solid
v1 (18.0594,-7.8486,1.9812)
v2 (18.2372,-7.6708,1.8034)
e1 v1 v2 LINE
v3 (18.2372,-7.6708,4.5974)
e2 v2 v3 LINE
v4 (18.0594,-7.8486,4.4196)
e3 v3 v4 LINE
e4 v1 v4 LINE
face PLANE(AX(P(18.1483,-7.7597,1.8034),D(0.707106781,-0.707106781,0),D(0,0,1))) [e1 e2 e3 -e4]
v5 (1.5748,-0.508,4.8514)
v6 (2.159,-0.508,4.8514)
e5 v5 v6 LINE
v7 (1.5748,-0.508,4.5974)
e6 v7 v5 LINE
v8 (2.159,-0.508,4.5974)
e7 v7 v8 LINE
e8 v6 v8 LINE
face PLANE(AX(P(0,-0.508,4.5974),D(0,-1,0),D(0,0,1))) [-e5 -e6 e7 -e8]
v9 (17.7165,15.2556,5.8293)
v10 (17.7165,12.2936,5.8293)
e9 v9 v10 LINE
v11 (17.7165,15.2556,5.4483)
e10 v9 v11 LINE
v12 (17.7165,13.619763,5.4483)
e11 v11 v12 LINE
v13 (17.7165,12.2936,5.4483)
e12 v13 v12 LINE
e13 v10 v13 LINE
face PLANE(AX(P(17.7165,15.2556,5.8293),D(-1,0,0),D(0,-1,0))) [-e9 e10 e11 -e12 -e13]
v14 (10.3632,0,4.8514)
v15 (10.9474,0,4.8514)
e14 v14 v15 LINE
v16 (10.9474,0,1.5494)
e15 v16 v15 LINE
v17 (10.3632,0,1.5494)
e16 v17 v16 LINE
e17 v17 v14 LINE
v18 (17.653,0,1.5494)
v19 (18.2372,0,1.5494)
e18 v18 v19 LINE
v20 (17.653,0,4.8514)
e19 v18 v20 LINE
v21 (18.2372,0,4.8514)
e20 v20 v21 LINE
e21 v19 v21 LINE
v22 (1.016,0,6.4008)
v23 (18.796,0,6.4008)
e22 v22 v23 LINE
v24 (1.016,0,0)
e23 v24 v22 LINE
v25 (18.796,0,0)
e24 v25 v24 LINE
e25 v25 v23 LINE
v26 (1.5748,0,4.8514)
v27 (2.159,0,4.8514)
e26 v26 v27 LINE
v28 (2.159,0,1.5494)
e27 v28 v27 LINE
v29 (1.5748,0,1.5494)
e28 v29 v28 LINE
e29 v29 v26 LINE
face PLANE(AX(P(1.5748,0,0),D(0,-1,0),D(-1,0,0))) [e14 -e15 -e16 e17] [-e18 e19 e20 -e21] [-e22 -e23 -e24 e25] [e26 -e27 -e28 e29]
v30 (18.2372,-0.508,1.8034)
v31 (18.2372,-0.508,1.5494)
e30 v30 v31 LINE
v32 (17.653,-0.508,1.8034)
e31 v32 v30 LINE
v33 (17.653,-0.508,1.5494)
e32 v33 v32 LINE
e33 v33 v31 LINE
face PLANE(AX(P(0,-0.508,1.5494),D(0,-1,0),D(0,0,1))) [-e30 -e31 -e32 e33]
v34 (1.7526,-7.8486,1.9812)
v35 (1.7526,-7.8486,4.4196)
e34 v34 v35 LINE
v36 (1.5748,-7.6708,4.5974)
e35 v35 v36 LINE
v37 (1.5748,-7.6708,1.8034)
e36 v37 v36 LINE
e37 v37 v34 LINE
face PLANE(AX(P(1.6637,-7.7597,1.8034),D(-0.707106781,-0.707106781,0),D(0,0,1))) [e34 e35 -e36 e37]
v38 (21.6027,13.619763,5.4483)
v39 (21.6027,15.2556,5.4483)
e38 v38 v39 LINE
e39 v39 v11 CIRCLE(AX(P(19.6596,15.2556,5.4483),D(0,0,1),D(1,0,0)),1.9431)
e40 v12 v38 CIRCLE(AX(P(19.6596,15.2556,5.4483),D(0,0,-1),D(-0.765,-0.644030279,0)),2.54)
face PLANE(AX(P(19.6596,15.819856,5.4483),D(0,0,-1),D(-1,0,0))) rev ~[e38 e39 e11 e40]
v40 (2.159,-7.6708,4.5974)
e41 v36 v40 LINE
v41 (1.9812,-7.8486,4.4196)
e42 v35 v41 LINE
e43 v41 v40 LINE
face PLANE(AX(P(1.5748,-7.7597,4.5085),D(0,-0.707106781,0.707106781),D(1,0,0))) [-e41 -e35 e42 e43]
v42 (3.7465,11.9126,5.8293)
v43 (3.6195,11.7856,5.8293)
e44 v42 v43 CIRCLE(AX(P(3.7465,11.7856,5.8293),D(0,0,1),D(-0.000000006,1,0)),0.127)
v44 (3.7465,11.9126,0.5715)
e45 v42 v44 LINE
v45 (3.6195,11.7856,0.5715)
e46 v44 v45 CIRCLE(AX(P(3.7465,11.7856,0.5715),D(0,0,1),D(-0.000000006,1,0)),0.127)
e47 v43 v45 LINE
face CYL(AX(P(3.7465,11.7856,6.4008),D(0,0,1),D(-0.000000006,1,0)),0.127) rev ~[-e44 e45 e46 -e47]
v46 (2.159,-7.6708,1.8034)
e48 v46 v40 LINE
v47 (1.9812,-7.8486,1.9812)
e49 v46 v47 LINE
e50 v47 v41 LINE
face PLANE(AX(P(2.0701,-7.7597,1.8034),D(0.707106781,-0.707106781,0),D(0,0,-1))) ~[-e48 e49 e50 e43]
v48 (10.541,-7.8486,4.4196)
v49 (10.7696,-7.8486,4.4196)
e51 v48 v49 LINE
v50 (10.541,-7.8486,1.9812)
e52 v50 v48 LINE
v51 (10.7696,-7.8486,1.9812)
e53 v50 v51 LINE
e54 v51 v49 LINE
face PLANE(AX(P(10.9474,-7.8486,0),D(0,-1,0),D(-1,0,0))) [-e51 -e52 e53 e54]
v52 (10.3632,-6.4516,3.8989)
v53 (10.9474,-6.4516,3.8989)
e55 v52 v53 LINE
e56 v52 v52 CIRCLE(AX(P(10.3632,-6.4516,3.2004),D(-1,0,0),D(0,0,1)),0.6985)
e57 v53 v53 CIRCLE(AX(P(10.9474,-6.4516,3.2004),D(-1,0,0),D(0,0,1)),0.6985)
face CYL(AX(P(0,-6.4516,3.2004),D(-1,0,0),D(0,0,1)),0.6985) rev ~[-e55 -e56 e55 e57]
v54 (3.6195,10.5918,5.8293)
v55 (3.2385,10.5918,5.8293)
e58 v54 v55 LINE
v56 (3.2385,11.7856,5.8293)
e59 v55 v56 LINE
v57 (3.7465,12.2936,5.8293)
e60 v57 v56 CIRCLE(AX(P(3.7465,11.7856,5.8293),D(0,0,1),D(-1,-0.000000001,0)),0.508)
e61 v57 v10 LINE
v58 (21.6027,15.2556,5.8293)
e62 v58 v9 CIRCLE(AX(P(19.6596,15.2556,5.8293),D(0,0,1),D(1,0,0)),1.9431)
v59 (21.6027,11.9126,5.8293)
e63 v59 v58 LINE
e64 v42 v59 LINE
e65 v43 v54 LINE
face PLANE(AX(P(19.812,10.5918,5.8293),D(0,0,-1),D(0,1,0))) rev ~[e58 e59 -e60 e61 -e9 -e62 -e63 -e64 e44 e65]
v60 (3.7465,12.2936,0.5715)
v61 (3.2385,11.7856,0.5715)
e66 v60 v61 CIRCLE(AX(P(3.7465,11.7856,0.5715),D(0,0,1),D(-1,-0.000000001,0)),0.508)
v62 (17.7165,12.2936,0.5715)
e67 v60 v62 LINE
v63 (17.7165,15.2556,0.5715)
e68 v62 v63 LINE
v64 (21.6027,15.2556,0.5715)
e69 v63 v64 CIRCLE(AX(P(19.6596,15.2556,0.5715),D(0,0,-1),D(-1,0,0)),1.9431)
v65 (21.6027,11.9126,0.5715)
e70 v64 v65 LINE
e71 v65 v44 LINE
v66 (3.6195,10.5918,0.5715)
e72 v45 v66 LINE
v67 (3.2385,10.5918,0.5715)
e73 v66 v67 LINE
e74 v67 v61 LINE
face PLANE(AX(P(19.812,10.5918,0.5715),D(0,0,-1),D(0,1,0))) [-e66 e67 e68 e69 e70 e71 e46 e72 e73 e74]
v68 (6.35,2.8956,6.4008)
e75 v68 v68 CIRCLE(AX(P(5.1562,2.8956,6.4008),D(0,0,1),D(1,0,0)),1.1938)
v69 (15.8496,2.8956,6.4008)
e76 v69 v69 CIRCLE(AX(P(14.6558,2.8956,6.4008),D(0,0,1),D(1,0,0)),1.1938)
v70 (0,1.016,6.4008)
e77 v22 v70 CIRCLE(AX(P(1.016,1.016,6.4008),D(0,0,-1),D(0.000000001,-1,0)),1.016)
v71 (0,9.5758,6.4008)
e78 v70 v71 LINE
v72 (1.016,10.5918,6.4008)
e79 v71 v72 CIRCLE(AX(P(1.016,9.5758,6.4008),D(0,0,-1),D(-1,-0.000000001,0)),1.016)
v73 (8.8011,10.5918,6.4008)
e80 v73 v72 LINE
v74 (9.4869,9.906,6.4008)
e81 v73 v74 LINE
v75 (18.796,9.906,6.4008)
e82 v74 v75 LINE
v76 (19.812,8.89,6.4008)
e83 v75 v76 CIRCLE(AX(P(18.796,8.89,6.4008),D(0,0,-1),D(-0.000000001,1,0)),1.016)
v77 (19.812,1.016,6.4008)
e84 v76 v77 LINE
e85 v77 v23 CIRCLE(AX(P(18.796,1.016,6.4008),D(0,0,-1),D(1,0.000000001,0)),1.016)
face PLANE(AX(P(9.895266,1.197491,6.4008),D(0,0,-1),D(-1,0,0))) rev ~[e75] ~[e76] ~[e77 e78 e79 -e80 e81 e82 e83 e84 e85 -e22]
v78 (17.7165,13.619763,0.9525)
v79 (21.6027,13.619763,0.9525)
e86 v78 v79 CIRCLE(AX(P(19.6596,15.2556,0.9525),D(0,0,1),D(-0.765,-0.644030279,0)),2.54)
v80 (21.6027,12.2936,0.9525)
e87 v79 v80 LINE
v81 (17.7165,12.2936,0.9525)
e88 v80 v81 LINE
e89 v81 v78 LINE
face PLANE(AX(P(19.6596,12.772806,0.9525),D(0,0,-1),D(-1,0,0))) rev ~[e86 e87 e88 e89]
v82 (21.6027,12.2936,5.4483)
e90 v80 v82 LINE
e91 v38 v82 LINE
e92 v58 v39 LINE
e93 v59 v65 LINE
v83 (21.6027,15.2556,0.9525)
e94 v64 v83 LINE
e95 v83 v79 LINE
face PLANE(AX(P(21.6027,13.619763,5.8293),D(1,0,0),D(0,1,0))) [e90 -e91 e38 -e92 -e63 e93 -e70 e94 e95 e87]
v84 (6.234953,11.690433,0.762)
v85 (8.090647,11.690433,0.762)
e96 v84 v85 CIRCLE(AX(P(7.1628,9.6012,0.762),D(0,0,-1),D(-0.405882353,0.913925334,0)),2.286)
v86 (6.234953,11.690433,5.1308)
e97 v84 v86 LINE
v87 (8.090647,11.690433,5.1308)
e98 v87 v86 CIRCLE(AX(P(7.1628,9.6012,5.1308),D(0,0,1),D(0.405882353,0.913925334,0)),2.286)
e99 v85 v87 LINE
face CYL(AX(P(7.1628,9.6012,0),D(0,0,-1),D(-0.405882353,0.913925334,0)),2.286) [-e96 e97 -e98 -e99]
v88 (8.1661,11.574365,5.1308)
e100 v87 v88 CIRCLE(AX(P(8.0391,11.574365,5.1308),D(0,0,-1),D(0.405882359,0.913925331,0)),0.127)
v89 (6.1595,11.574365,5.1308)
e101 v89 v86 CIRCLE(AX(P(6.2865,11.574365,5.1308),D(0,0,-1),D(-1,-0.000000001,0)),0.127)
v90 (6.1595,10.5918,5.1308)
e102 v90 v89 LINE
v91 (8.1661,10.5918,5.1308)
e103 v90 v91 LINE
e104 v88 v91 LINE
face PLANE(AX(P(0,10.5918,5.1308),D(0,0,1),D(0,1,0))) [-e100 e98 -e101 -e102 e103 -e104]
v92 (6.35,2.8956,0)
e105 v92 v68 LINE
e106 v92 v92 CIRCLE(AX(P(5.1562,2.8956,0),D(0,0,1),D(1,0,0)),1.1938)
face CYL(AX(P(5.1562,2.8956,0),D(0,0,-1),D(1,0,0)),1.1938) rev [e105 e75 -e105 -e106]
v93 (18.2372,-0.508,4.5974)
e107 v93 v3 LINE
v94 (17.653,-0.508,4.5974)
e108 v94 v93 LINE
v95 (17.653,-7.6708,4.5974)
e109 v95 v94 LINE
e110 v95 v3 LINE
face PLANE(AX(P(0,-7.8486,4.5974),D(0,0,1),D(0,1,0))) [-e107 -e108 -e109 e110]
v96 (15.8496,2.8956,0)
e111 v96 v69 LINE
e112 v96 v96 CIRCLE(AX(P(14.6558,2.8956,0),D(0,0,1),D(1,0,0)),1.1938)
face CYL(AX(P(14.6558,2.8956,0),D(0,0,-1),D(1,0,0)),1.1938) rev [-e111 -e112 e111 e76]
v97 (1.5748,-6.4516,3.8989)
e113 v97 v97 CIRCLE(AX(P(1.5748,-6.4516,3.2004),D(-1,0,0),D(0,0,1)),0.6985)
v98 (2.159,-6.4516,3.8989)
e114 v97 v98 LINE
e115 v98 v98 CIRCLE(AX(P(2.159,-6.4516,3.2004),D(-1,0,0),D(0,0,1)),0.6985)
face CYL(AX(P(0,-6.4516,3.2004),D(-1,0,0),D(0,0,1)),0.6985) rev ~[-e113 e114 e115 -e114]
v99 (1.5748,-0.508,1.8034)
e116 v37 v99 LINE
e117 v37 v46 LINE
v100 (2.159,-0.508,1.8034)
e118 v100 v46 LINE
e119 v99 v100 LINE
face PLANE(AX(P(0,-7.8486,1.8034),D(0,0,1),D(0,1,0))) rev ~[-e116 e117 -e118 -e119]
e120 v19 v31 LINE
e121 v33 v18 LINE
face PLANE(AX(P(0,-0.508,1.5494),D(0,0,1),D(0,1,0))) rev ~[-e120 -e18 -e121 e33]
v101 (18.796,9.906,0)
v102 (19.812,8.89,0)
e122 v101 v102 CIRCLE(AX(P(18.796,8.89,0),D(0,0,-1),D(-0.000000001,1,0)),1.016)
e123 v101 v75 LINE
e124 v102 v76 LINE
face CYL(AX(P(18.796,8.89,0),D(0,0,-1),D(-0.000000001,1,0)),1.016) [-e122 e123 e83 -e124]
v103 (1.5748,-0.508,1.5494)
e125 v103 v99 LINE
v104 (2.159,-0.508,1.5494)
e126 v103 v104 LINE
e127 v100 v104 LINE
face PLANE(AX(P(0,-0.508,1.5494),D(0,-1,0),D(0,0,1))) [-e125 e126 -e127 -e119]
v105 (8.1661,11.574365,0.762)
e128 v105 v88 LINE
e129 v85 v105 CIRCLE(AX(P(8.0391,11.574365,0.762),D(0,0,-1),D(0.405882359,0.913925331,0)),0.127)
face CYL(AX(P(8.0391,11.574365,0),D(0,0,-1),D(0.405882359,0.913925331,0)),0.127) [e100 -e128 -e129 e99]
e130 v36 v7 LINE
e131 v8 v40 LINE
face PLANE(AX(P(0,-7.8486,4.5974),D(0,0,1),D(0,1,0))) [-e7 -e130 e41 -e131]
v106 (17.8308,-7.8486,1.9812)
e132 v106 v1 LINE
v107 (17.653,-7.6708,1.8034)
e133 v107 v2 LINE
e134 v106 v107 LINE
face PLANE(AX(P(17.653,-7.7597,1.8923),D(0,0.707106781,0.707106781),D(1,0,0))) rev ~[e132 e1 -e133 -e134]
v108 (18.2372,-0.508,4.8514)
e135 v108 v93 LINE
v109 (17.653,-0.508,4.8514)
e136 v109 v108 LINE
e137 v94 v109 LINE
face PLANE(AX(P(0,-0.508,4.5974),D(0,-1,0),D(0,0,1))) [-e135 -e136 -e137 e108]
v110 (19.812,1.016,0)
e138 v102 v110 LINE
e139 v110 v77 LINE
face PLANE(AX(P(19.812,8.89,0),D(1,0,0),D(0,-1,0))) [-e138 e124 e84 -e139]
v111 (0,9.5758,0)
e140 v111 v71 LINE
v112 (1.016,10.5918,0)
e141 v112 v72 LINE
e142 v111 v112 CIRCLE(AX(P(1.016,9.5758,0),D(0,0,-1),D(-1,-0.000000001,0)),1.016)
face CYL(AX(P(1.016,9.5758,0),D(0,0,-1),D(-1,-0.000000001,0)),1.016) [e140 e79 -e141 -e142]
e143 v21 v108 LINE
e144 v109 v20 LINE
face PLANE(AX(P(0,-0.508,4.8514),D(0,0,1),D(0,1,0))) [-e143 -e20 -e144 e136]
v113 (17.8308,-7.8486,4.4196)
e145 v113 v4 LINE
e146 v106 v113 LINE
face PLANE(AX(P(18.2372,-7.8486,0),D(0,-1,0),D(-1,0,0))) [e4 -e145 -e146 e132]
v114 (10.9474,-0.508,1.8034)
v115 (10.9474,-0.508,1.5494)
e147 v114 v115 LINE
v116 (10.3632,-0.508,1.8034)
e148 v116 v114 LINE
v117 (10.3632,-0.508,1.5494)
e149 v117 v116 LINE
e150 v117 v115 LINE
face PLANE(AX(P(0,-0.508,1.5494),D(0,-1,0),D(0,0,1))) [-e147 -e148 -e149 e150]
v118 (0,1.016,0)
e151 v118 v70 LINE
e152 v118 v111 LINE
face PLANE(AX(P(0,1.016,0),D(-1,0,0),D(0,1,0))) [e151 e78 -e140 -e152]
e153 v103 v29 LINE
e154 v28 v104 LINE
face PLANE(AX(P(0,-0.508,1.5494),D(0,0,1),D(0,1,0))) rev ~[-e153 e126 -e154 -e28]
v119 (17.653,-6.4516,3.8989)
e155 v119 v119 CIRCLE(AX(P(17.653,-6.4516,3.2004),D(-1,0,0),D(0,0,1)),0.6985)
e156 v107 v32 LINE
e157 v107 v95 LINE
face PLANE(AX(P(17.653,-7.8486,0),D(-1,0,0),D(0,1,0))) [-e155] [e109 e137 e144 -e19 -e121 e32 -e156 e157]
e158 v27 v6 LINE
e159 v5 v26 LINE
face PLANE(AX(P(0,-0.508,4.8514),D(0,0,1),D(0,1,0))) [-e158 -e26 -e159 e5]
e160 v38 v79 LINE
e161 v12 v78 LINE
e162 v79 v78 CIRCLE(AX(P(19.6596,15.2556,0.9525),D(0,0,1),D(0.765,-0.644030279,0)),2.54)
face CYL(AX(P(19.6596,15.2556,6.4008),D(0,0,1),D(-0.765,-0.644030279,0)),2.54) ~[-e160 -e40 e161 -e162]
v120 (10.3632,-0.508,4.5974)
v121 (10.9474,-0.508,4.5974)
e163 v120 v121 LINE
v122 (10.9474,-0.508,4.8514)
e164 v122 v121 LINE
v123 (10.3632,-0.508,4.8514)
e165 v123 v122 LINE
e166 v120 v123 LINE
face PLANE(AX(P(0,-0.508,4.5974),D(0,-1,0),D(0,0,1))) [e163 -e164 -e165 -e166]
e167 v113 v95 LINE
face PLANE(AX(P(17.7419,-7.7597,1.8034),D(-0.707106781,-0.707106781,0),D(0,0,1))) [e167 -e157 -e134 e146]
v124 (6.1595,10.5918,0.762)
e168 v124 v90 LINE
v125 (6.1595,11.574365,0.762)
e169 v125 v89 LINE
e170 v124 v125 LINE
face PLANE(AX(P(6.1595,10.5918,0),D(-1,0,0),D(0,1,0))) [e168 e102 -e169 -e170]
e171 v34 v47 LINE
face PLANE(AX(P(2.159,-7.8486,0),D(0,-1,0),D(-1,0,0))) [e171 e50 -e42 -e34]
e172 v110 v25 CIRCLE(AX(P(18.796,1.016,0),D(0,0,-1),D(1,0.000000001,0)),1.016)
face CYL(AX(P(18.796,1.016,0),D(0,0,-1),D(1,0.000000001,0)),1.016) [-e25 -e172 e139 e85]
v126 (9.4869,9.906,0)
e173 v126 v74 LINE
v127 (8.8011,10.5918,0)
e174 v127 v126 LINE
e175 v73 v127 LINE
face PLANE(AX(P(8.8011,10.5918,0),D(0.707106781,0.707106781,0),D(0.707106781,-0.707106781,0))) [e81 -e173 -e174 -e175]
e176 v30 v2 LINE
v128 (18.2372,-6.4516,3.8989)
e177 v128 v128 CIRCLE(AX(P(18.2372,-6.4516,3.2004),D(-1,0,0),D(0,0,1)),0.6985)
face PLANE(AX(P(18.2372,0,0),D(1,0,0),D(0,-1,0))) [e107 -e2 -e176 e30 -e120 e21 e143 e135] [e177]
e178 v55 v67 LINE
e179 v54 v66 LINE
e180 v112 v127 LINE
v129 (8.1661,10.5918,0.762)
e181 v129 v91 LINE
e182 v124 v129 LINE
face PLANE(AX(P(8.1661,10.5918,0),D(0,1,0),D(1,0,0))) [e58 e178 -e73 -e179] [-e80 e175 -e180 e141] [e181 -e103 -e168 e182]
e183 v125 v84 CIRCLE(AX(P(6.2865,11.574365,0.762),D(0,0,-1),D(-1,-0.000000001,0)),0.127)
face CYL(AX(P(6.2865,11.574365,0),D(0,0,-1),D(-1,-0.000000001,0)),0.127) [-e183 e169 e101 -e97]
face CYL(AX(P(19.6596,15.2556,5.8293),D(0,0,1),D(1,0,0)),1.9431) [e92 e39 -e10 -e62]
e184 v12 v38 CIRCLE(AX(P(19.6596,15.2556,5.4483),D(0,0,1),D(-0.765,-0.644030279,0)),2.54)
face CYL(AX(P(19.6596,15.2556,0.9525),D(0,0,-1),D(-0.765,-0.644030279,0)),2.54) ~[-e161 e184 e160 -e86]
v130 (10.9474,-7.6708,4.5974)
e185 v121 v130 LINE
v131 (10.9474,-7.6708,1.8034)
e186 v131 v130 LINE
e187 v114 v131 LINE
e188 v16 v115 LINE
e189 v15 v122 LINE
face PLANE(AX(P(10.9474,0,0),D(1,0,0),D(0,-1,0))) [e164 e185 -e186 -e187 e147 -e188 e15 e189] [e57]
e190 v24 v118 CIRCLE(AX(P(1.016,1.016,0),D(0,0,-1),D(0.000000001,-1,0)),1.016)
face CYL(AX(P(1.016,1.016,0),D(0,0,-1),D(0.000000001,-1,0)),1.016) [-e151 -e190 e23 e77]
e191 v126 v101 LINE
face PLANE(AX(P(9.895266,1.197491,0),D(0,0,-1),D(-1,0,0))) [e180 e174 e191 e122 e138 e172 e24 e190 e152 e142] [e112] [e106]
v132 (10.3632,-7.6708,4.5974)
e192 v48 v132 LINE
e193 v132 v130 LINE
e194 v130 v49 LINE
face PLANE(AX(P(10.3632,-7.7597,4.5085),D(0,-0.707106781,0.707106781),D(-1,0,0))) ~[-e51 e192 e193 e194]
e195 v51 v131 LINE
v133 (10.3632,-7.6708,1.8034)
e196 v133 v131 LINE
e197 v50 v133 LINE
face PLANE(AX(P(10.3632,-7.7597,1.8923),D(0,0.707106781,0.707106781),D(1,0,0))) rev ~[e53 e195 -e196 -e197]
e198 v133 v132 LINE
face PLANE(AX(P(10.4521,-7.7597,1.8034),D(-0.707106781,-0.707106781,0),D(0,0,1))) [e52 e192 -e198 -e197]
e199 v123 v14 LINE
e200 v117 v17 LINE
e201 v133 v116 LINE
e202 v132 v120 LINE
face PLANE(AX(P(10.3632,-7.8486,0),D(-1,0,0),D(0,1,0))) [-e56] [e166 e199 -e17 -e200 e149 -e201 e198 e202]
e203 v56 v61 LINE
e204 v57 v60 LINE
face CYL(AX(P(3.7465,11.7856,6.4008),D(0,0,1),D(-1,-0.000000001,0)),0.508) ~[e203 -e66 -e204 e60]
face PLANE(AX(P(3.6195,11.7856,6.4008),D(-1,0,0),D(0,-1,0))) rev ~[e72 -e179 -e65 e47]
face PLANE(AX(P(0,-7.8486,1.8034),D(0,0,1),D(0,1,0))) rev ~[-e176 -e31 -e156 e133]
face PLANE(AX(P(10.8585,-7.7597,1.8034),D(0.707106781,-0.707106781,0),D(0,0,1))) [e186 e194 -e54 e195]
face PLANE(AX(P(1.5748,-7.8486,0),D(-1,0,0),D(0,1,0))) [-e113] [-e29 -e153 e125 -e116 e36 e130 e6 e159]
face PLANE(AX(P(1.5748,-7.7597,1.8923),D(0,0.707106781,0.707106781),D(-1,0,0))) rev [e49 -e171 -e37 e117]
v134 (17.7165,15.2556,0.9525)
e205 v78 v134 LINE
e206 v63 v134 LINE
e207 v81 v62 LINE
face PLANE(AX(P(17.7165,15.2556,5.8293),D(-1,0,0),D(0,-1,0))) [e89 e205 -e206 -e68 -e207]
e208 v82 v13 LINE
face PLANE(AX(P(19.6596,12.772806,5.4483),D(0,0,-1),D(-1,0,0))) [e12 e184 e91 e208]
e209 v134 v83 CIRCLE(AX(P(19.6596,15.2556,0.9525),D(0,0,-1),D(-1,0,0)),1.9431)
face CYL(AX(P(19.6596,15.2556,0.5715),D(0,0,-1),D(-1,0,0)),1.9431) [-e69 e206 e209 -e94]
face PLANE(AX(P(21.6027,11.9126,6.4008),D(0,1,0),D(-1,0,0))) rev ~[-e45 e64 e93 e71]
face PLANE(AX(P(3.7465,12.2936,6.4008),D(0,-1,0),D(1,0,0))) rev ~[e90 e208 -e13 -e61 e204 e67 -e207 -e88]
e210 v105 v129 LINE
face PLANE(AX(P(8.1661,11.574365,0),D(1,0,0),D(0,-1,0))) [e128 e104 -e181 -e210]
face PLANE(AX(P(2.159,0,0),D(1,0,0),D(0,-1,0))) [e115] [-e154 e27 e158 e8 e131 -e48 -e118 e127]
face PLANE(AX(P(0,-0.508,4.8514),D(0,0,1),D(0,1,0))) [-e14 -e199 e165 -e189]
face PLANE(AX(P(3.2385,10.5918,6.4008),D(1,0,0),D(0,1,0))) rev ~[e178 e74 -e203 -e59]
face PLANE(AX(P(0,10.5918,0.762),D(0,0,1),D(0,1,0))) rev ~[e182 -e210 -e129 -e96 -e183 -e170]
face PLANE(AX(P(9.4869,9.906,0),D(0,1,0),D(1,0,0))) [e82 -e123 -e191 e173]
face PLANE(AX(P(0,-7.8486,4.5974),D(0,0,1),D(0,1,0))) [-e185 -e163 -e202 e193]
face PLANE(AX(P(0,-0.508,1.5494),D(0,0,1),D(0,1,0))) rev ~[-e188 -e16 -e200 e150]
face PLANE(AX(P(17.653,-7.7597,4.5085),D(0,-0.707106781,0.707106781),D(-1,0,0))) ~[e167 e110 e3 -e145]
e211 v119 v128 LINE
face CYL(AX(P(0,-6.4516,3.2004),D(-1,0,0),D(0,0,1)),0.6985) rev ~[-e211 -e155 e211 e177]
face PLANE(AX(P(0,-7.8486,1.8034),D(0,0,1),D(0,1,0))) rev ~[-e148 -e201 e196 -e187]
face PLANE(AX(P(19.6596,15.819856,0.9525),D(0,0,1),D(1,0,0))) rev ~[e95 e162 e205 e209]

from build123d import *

# Parameters (mm, degrees)
SKETCH1_R               = 1.1938
BOSS_EXTRUDE1_DEPTH     = 6.4008
SKETCH2_W               = 1.8034
SKETCH2_H               = 7.3406
SKETCH2_W_2             = 1.27
SKETCH2_H_2             = 1.2954
SKETCH2_R               = 0.6985
SKETCH2_W_3             = 1.5494
SKETCH2_H_3             = 0.508
SKETCH2_W_4             = 0.762
CUT_EXTRUDE1_DEPTH      = 20.812
CHAMFER1_SIZE           = 0.1778
BOSS_EXTRUDE3_DEPTH     = 6.4008
SKETCH4_W               = 0.5715
SKETCH4_H               = 7.2038
CUT_EXTRUDE2_DEPTH      = 3.3876
CUT_EXTRUDE2_DEPTH_BACK = 20.812
CUT_EXTRUDE3_DEPTH      = 0.381
CUT_EXTRUDE4_DEPTH      = 0.381
CUT_EXTRUDE5_START      = -0.381
CUT_EXTRUDE5_DEPTH      = 4.4958


with BuildPart() as part:
    # Sketch1 → Boss-Extrude1 (new body)
    with BuildSketch(Plane.XY):
        with BuildLine():
            Line((8.8011, 10.5918), (9.4869, 9.906))
            Line((9.4869, 9.906), (18.796, 9.906))
            ThreePointArc((18.796, 9.906), (19.51442049, 9.60842049), (19.812, 8.89))
            Line((19.812, 8.89), (19.812, 1.016))
            ThreePointArc((19.812, 1.016), (19.51442049, 0.29757951), (18.796, 0))
            Line((18.796, 0), (18.2372, 0))
            Line((18.2372, 0), (18.2372, -7.8486))
            Line((18.2372, -7.8486), (17.653, -7.8486))
            Line((17.653, -7.8486), (17.653, 0))
            Line((17.653, 0), (10.9474, 0))
            Line((10.9474, 0), (10.9474, -7.8486))
            Line((10.9474, -7.8486), (10.3632, -7.8486))
            Line((10.3632, -7.8486), (10.3632, 0))
            Line((10.3632, 0), (2.159, 0))
            Line((2.159, 0), (2.159, -7.8486))
            Line((2.159, -7.8486), (1.5748, -7.8486))
            Line((1.5748, -7.8486), (1.5748, 0))
            Line((1.5748, 0), (1.016, 0))
            ThreePointArc((1.016, 0), (0.29757951, 0.29757951), (0, 1.016))
            Line((0, 1.016), (0, 9.5758))
            ThreePointArc((0, 9.5758), (0.29757951, 10.29422049), (1.016, 10.5918))
            Line((1.016, 10.5918), (6.1595, 10.5918))
            Line((6.1595, 10.5918), (6.1595, 11.574364795))
            ThreePointArc((6.1595, 11.574364795), (6.180021184, 11.643583736), (6.234952941, 11.690433313))
            ThreePointArc((6.234952941, 11.690433313), (7.1628, 11.8872), (8.090647059, 11.690433313))
            ThreePointArc((8.090647059, 11.690433313), (8.145578816, 11.643583736), (8.1661, 11.574364795))
            Line((8.1661, 11.574364795), (8.1661, 10.5918))
            Line((8.1661, 10.5918), (8.8011, 10.5918))
        make_face()
        with Locations((5.1562, 2.8956)):
            Circle(SKETCH1_R, mode=Mode.SUBTRACT)
        with Locations((14.6558, 2.8956)):
            Circle(SKETCH1_R, mode=Mode.SUBTRACT)
    extrude(amount=BOSS_EXTRUDE1_DEPTH)

    # Sketch2 → Cut-Extrude1 (cut, through all)
    with BuildSketch(Plane.ZY):
        with Locations((0.9017, -4.1783)):
            Rectangle(SKETCH2_W, SKETCH2_H)
        with Locations((5.4991, -4.1783)):
            Rectangle(SKETCH2_W, SKETCH2_H)
        with Locations((5.7658, 11.2395)):
            Rectangle(SKETCH2_W_2, SKETCH2_H_2)
        with Locations((3.2004, -6.4516)):
            Circle(SKETCH2_R)
        with Locations((5.6261, -0.254)):
            Rectangle(SKETCH2_W_3, SKETCH2_H_3)
        with Locations((0.7747, -0.254)):
            Rectangle(SKETCH2_W_3, SKETCH2_H_3)
        with Locations((0.381, 11.2395)):
            Rectangle(SKETCH2_W_4, SKETCH2_H_2)
    extrude(amount=-CUT_EXTRUDE1_DEPTH, mode=Mode.SUBTRACT)

    # Chamfer1
    chamfer1_edges = [part.edges().sort_by_distance(p)[0] for p in [
        (1.8669, -7.8486, 1.8034),
        (10.6553, -7.8486, 1.8034),
        (17.9451, -7.8486, 1.8034),
        (18.2372, -7.8486, 3.2004),
        (17.653, -7.8486, 3.2004),
        (10.9474, -7.8486, 3.2004),
        (10.3632, -7.8486, 3.2004),
        (2.159, -7.8486, 3.2004),
        (1.5748, -7.8486, 3.2004),
        (1.8669, -7.8486, 4.5974),
        (10.6553, -7.8486, 4.5974),
        (17.9451, -7.8486, 4.5974),
    ]]
    chamfer(chamfer1_edges, length=CHAMFER1_SIZE)

    # Sketch3 → Boss-Extrude3 (add, through all)
    with BuildSketch(Plane.XY.offset(6.4008)):
        with BuildLine():
            Line((3.2385, 10.5918), (3.2385, 11.7856))
            ThreePointArc((3.2385, 11.7856), (3.387289755, 12.144810245), (3.7465, 12.2936))
            Line((3.7465, 12.2936), (17.7165, 12.2936))
            Line((17.7165, 12.2936), (17.7165, 13.619763092))
            ThreePointArc((17.7165, 13.619763092), (19.6596, 17.7956), (21.6027, 13.619763092))
            Line((21.6027, 13.619763092), (21.6027, 12.2936))
            Line((21.6027, 12.2936), (21.6027, 11.9126))
            Line((21.6027, 11.9126), (3.7465, 11.9126))
            ThreePointArc((3.7465, 11.9126), (3.656697439, 11.875402561), (3.6195, 11.7856))
            Line((3.6195, 11.7856), (3.6195, 10.5918))
            Line((3.6195, 10.5918), (3.2385, 10.5918))
        make_face()
    extrude(amount=-BOSS_EXTRUDE3_DEPTH)

    # Sketch4 → Cut-Extrude2 (cut, two sides)
    with BuildSketch(Plane(origin=(19.812, 0, 0), x_dir=(0, 0, -1), z_dir=(1, 0, 0))) as cut_extrude2_sk:
        with Locations((-0.28575, 14.1937)):
            Rectangle(SKETCH4_W, SKETCH4_H)
        with Locations((-6.11505, 14.1937)):
            Rectangle(SKETCH4_W, SKETCH4_H)
    extrude(amount=CUT_EXTRUDE2_DEPTH, mode=Mode.SUBTRACT)
    extrude(cut_extrude2_sk.sketch, amount=-CUT_EXTRUDE2_DEPTH_BACK, mode=Mode.SUBTRACT)

    # Sketch5 → Cut-Extrude3 (cut)
    with BuildSketch(Plane.XY.offset(5.8293)):
        with BuildLine():
            Line((21.6027, 13.619763092), (21.6027, 15.2556))
            ThreePointArc((21.6027, 15.2556), (19.6596, 17.1987), (17.7165, 15.2556))
            Line((17.7165, 15.2556), (17.7165, 13.619763092))
            ThreePointArc((17.7165, 13.619763092), (19.6596, 17.7956), (21.6027, 13.619763092))
        make_face()
    extrude(amount=-CUT_EXTRUDE3_DEPTH, mode=Mode.SUBTRACT)

    # Sketch6 → Cut-Extrude4 (cut)
    with BuildSketch(Plane(origin=(0, 0, 0.5715), x_dir=(-1, 0, 0), z_dir=(0, 0, -1))):
        with BuildLine():
            Line((-21.6027, 15.2556), (-21.6027, 13.619763092))
            ThreePointArc((-21.6027, 13.619763092), (-19.6596, 17.7956), (-17.7165, 13.619763092))
            Line((-17.7165, 13.619763092), (-17.7165, 15.2556))
            ThreePointArc((-17.7165, 15.2556), (-19.6596, 17.1987), (-21.6027, 15.2556))
        make_face()
    extrude(amount=-CUT_EXTRUDE4_DEPTH, mode=Mode.SUBTRACT)

    # Sketch7 → Cut-Extrude5 (cut)
    with BuildSketch(Plane(origin=(0, 0, 0.5715), x_dir=(-1, 0, 0), z_dir=(0, 0, -1)).offset(CUT_EXTRUDE5_START)):
        with BuildLine():
            Line((-21.6027, 13.619763092), (-21.6027, 12.2936))
            Line((-21.6027, 12.2936), (-17.7165, 12.2936))
            Line((-17.7165, 12.2936), (-17.7165, 13.619763092))
            ThreePointArc((-17.7165, 13.619763092), (-19.6596, 12.7156), (-21.6027, 13.619763092))
        make_face()
    extrude(amount=-CUT_EXTRUDE5_DEPTH, mode=Mode.SUBTRACT)


solid = part.part
